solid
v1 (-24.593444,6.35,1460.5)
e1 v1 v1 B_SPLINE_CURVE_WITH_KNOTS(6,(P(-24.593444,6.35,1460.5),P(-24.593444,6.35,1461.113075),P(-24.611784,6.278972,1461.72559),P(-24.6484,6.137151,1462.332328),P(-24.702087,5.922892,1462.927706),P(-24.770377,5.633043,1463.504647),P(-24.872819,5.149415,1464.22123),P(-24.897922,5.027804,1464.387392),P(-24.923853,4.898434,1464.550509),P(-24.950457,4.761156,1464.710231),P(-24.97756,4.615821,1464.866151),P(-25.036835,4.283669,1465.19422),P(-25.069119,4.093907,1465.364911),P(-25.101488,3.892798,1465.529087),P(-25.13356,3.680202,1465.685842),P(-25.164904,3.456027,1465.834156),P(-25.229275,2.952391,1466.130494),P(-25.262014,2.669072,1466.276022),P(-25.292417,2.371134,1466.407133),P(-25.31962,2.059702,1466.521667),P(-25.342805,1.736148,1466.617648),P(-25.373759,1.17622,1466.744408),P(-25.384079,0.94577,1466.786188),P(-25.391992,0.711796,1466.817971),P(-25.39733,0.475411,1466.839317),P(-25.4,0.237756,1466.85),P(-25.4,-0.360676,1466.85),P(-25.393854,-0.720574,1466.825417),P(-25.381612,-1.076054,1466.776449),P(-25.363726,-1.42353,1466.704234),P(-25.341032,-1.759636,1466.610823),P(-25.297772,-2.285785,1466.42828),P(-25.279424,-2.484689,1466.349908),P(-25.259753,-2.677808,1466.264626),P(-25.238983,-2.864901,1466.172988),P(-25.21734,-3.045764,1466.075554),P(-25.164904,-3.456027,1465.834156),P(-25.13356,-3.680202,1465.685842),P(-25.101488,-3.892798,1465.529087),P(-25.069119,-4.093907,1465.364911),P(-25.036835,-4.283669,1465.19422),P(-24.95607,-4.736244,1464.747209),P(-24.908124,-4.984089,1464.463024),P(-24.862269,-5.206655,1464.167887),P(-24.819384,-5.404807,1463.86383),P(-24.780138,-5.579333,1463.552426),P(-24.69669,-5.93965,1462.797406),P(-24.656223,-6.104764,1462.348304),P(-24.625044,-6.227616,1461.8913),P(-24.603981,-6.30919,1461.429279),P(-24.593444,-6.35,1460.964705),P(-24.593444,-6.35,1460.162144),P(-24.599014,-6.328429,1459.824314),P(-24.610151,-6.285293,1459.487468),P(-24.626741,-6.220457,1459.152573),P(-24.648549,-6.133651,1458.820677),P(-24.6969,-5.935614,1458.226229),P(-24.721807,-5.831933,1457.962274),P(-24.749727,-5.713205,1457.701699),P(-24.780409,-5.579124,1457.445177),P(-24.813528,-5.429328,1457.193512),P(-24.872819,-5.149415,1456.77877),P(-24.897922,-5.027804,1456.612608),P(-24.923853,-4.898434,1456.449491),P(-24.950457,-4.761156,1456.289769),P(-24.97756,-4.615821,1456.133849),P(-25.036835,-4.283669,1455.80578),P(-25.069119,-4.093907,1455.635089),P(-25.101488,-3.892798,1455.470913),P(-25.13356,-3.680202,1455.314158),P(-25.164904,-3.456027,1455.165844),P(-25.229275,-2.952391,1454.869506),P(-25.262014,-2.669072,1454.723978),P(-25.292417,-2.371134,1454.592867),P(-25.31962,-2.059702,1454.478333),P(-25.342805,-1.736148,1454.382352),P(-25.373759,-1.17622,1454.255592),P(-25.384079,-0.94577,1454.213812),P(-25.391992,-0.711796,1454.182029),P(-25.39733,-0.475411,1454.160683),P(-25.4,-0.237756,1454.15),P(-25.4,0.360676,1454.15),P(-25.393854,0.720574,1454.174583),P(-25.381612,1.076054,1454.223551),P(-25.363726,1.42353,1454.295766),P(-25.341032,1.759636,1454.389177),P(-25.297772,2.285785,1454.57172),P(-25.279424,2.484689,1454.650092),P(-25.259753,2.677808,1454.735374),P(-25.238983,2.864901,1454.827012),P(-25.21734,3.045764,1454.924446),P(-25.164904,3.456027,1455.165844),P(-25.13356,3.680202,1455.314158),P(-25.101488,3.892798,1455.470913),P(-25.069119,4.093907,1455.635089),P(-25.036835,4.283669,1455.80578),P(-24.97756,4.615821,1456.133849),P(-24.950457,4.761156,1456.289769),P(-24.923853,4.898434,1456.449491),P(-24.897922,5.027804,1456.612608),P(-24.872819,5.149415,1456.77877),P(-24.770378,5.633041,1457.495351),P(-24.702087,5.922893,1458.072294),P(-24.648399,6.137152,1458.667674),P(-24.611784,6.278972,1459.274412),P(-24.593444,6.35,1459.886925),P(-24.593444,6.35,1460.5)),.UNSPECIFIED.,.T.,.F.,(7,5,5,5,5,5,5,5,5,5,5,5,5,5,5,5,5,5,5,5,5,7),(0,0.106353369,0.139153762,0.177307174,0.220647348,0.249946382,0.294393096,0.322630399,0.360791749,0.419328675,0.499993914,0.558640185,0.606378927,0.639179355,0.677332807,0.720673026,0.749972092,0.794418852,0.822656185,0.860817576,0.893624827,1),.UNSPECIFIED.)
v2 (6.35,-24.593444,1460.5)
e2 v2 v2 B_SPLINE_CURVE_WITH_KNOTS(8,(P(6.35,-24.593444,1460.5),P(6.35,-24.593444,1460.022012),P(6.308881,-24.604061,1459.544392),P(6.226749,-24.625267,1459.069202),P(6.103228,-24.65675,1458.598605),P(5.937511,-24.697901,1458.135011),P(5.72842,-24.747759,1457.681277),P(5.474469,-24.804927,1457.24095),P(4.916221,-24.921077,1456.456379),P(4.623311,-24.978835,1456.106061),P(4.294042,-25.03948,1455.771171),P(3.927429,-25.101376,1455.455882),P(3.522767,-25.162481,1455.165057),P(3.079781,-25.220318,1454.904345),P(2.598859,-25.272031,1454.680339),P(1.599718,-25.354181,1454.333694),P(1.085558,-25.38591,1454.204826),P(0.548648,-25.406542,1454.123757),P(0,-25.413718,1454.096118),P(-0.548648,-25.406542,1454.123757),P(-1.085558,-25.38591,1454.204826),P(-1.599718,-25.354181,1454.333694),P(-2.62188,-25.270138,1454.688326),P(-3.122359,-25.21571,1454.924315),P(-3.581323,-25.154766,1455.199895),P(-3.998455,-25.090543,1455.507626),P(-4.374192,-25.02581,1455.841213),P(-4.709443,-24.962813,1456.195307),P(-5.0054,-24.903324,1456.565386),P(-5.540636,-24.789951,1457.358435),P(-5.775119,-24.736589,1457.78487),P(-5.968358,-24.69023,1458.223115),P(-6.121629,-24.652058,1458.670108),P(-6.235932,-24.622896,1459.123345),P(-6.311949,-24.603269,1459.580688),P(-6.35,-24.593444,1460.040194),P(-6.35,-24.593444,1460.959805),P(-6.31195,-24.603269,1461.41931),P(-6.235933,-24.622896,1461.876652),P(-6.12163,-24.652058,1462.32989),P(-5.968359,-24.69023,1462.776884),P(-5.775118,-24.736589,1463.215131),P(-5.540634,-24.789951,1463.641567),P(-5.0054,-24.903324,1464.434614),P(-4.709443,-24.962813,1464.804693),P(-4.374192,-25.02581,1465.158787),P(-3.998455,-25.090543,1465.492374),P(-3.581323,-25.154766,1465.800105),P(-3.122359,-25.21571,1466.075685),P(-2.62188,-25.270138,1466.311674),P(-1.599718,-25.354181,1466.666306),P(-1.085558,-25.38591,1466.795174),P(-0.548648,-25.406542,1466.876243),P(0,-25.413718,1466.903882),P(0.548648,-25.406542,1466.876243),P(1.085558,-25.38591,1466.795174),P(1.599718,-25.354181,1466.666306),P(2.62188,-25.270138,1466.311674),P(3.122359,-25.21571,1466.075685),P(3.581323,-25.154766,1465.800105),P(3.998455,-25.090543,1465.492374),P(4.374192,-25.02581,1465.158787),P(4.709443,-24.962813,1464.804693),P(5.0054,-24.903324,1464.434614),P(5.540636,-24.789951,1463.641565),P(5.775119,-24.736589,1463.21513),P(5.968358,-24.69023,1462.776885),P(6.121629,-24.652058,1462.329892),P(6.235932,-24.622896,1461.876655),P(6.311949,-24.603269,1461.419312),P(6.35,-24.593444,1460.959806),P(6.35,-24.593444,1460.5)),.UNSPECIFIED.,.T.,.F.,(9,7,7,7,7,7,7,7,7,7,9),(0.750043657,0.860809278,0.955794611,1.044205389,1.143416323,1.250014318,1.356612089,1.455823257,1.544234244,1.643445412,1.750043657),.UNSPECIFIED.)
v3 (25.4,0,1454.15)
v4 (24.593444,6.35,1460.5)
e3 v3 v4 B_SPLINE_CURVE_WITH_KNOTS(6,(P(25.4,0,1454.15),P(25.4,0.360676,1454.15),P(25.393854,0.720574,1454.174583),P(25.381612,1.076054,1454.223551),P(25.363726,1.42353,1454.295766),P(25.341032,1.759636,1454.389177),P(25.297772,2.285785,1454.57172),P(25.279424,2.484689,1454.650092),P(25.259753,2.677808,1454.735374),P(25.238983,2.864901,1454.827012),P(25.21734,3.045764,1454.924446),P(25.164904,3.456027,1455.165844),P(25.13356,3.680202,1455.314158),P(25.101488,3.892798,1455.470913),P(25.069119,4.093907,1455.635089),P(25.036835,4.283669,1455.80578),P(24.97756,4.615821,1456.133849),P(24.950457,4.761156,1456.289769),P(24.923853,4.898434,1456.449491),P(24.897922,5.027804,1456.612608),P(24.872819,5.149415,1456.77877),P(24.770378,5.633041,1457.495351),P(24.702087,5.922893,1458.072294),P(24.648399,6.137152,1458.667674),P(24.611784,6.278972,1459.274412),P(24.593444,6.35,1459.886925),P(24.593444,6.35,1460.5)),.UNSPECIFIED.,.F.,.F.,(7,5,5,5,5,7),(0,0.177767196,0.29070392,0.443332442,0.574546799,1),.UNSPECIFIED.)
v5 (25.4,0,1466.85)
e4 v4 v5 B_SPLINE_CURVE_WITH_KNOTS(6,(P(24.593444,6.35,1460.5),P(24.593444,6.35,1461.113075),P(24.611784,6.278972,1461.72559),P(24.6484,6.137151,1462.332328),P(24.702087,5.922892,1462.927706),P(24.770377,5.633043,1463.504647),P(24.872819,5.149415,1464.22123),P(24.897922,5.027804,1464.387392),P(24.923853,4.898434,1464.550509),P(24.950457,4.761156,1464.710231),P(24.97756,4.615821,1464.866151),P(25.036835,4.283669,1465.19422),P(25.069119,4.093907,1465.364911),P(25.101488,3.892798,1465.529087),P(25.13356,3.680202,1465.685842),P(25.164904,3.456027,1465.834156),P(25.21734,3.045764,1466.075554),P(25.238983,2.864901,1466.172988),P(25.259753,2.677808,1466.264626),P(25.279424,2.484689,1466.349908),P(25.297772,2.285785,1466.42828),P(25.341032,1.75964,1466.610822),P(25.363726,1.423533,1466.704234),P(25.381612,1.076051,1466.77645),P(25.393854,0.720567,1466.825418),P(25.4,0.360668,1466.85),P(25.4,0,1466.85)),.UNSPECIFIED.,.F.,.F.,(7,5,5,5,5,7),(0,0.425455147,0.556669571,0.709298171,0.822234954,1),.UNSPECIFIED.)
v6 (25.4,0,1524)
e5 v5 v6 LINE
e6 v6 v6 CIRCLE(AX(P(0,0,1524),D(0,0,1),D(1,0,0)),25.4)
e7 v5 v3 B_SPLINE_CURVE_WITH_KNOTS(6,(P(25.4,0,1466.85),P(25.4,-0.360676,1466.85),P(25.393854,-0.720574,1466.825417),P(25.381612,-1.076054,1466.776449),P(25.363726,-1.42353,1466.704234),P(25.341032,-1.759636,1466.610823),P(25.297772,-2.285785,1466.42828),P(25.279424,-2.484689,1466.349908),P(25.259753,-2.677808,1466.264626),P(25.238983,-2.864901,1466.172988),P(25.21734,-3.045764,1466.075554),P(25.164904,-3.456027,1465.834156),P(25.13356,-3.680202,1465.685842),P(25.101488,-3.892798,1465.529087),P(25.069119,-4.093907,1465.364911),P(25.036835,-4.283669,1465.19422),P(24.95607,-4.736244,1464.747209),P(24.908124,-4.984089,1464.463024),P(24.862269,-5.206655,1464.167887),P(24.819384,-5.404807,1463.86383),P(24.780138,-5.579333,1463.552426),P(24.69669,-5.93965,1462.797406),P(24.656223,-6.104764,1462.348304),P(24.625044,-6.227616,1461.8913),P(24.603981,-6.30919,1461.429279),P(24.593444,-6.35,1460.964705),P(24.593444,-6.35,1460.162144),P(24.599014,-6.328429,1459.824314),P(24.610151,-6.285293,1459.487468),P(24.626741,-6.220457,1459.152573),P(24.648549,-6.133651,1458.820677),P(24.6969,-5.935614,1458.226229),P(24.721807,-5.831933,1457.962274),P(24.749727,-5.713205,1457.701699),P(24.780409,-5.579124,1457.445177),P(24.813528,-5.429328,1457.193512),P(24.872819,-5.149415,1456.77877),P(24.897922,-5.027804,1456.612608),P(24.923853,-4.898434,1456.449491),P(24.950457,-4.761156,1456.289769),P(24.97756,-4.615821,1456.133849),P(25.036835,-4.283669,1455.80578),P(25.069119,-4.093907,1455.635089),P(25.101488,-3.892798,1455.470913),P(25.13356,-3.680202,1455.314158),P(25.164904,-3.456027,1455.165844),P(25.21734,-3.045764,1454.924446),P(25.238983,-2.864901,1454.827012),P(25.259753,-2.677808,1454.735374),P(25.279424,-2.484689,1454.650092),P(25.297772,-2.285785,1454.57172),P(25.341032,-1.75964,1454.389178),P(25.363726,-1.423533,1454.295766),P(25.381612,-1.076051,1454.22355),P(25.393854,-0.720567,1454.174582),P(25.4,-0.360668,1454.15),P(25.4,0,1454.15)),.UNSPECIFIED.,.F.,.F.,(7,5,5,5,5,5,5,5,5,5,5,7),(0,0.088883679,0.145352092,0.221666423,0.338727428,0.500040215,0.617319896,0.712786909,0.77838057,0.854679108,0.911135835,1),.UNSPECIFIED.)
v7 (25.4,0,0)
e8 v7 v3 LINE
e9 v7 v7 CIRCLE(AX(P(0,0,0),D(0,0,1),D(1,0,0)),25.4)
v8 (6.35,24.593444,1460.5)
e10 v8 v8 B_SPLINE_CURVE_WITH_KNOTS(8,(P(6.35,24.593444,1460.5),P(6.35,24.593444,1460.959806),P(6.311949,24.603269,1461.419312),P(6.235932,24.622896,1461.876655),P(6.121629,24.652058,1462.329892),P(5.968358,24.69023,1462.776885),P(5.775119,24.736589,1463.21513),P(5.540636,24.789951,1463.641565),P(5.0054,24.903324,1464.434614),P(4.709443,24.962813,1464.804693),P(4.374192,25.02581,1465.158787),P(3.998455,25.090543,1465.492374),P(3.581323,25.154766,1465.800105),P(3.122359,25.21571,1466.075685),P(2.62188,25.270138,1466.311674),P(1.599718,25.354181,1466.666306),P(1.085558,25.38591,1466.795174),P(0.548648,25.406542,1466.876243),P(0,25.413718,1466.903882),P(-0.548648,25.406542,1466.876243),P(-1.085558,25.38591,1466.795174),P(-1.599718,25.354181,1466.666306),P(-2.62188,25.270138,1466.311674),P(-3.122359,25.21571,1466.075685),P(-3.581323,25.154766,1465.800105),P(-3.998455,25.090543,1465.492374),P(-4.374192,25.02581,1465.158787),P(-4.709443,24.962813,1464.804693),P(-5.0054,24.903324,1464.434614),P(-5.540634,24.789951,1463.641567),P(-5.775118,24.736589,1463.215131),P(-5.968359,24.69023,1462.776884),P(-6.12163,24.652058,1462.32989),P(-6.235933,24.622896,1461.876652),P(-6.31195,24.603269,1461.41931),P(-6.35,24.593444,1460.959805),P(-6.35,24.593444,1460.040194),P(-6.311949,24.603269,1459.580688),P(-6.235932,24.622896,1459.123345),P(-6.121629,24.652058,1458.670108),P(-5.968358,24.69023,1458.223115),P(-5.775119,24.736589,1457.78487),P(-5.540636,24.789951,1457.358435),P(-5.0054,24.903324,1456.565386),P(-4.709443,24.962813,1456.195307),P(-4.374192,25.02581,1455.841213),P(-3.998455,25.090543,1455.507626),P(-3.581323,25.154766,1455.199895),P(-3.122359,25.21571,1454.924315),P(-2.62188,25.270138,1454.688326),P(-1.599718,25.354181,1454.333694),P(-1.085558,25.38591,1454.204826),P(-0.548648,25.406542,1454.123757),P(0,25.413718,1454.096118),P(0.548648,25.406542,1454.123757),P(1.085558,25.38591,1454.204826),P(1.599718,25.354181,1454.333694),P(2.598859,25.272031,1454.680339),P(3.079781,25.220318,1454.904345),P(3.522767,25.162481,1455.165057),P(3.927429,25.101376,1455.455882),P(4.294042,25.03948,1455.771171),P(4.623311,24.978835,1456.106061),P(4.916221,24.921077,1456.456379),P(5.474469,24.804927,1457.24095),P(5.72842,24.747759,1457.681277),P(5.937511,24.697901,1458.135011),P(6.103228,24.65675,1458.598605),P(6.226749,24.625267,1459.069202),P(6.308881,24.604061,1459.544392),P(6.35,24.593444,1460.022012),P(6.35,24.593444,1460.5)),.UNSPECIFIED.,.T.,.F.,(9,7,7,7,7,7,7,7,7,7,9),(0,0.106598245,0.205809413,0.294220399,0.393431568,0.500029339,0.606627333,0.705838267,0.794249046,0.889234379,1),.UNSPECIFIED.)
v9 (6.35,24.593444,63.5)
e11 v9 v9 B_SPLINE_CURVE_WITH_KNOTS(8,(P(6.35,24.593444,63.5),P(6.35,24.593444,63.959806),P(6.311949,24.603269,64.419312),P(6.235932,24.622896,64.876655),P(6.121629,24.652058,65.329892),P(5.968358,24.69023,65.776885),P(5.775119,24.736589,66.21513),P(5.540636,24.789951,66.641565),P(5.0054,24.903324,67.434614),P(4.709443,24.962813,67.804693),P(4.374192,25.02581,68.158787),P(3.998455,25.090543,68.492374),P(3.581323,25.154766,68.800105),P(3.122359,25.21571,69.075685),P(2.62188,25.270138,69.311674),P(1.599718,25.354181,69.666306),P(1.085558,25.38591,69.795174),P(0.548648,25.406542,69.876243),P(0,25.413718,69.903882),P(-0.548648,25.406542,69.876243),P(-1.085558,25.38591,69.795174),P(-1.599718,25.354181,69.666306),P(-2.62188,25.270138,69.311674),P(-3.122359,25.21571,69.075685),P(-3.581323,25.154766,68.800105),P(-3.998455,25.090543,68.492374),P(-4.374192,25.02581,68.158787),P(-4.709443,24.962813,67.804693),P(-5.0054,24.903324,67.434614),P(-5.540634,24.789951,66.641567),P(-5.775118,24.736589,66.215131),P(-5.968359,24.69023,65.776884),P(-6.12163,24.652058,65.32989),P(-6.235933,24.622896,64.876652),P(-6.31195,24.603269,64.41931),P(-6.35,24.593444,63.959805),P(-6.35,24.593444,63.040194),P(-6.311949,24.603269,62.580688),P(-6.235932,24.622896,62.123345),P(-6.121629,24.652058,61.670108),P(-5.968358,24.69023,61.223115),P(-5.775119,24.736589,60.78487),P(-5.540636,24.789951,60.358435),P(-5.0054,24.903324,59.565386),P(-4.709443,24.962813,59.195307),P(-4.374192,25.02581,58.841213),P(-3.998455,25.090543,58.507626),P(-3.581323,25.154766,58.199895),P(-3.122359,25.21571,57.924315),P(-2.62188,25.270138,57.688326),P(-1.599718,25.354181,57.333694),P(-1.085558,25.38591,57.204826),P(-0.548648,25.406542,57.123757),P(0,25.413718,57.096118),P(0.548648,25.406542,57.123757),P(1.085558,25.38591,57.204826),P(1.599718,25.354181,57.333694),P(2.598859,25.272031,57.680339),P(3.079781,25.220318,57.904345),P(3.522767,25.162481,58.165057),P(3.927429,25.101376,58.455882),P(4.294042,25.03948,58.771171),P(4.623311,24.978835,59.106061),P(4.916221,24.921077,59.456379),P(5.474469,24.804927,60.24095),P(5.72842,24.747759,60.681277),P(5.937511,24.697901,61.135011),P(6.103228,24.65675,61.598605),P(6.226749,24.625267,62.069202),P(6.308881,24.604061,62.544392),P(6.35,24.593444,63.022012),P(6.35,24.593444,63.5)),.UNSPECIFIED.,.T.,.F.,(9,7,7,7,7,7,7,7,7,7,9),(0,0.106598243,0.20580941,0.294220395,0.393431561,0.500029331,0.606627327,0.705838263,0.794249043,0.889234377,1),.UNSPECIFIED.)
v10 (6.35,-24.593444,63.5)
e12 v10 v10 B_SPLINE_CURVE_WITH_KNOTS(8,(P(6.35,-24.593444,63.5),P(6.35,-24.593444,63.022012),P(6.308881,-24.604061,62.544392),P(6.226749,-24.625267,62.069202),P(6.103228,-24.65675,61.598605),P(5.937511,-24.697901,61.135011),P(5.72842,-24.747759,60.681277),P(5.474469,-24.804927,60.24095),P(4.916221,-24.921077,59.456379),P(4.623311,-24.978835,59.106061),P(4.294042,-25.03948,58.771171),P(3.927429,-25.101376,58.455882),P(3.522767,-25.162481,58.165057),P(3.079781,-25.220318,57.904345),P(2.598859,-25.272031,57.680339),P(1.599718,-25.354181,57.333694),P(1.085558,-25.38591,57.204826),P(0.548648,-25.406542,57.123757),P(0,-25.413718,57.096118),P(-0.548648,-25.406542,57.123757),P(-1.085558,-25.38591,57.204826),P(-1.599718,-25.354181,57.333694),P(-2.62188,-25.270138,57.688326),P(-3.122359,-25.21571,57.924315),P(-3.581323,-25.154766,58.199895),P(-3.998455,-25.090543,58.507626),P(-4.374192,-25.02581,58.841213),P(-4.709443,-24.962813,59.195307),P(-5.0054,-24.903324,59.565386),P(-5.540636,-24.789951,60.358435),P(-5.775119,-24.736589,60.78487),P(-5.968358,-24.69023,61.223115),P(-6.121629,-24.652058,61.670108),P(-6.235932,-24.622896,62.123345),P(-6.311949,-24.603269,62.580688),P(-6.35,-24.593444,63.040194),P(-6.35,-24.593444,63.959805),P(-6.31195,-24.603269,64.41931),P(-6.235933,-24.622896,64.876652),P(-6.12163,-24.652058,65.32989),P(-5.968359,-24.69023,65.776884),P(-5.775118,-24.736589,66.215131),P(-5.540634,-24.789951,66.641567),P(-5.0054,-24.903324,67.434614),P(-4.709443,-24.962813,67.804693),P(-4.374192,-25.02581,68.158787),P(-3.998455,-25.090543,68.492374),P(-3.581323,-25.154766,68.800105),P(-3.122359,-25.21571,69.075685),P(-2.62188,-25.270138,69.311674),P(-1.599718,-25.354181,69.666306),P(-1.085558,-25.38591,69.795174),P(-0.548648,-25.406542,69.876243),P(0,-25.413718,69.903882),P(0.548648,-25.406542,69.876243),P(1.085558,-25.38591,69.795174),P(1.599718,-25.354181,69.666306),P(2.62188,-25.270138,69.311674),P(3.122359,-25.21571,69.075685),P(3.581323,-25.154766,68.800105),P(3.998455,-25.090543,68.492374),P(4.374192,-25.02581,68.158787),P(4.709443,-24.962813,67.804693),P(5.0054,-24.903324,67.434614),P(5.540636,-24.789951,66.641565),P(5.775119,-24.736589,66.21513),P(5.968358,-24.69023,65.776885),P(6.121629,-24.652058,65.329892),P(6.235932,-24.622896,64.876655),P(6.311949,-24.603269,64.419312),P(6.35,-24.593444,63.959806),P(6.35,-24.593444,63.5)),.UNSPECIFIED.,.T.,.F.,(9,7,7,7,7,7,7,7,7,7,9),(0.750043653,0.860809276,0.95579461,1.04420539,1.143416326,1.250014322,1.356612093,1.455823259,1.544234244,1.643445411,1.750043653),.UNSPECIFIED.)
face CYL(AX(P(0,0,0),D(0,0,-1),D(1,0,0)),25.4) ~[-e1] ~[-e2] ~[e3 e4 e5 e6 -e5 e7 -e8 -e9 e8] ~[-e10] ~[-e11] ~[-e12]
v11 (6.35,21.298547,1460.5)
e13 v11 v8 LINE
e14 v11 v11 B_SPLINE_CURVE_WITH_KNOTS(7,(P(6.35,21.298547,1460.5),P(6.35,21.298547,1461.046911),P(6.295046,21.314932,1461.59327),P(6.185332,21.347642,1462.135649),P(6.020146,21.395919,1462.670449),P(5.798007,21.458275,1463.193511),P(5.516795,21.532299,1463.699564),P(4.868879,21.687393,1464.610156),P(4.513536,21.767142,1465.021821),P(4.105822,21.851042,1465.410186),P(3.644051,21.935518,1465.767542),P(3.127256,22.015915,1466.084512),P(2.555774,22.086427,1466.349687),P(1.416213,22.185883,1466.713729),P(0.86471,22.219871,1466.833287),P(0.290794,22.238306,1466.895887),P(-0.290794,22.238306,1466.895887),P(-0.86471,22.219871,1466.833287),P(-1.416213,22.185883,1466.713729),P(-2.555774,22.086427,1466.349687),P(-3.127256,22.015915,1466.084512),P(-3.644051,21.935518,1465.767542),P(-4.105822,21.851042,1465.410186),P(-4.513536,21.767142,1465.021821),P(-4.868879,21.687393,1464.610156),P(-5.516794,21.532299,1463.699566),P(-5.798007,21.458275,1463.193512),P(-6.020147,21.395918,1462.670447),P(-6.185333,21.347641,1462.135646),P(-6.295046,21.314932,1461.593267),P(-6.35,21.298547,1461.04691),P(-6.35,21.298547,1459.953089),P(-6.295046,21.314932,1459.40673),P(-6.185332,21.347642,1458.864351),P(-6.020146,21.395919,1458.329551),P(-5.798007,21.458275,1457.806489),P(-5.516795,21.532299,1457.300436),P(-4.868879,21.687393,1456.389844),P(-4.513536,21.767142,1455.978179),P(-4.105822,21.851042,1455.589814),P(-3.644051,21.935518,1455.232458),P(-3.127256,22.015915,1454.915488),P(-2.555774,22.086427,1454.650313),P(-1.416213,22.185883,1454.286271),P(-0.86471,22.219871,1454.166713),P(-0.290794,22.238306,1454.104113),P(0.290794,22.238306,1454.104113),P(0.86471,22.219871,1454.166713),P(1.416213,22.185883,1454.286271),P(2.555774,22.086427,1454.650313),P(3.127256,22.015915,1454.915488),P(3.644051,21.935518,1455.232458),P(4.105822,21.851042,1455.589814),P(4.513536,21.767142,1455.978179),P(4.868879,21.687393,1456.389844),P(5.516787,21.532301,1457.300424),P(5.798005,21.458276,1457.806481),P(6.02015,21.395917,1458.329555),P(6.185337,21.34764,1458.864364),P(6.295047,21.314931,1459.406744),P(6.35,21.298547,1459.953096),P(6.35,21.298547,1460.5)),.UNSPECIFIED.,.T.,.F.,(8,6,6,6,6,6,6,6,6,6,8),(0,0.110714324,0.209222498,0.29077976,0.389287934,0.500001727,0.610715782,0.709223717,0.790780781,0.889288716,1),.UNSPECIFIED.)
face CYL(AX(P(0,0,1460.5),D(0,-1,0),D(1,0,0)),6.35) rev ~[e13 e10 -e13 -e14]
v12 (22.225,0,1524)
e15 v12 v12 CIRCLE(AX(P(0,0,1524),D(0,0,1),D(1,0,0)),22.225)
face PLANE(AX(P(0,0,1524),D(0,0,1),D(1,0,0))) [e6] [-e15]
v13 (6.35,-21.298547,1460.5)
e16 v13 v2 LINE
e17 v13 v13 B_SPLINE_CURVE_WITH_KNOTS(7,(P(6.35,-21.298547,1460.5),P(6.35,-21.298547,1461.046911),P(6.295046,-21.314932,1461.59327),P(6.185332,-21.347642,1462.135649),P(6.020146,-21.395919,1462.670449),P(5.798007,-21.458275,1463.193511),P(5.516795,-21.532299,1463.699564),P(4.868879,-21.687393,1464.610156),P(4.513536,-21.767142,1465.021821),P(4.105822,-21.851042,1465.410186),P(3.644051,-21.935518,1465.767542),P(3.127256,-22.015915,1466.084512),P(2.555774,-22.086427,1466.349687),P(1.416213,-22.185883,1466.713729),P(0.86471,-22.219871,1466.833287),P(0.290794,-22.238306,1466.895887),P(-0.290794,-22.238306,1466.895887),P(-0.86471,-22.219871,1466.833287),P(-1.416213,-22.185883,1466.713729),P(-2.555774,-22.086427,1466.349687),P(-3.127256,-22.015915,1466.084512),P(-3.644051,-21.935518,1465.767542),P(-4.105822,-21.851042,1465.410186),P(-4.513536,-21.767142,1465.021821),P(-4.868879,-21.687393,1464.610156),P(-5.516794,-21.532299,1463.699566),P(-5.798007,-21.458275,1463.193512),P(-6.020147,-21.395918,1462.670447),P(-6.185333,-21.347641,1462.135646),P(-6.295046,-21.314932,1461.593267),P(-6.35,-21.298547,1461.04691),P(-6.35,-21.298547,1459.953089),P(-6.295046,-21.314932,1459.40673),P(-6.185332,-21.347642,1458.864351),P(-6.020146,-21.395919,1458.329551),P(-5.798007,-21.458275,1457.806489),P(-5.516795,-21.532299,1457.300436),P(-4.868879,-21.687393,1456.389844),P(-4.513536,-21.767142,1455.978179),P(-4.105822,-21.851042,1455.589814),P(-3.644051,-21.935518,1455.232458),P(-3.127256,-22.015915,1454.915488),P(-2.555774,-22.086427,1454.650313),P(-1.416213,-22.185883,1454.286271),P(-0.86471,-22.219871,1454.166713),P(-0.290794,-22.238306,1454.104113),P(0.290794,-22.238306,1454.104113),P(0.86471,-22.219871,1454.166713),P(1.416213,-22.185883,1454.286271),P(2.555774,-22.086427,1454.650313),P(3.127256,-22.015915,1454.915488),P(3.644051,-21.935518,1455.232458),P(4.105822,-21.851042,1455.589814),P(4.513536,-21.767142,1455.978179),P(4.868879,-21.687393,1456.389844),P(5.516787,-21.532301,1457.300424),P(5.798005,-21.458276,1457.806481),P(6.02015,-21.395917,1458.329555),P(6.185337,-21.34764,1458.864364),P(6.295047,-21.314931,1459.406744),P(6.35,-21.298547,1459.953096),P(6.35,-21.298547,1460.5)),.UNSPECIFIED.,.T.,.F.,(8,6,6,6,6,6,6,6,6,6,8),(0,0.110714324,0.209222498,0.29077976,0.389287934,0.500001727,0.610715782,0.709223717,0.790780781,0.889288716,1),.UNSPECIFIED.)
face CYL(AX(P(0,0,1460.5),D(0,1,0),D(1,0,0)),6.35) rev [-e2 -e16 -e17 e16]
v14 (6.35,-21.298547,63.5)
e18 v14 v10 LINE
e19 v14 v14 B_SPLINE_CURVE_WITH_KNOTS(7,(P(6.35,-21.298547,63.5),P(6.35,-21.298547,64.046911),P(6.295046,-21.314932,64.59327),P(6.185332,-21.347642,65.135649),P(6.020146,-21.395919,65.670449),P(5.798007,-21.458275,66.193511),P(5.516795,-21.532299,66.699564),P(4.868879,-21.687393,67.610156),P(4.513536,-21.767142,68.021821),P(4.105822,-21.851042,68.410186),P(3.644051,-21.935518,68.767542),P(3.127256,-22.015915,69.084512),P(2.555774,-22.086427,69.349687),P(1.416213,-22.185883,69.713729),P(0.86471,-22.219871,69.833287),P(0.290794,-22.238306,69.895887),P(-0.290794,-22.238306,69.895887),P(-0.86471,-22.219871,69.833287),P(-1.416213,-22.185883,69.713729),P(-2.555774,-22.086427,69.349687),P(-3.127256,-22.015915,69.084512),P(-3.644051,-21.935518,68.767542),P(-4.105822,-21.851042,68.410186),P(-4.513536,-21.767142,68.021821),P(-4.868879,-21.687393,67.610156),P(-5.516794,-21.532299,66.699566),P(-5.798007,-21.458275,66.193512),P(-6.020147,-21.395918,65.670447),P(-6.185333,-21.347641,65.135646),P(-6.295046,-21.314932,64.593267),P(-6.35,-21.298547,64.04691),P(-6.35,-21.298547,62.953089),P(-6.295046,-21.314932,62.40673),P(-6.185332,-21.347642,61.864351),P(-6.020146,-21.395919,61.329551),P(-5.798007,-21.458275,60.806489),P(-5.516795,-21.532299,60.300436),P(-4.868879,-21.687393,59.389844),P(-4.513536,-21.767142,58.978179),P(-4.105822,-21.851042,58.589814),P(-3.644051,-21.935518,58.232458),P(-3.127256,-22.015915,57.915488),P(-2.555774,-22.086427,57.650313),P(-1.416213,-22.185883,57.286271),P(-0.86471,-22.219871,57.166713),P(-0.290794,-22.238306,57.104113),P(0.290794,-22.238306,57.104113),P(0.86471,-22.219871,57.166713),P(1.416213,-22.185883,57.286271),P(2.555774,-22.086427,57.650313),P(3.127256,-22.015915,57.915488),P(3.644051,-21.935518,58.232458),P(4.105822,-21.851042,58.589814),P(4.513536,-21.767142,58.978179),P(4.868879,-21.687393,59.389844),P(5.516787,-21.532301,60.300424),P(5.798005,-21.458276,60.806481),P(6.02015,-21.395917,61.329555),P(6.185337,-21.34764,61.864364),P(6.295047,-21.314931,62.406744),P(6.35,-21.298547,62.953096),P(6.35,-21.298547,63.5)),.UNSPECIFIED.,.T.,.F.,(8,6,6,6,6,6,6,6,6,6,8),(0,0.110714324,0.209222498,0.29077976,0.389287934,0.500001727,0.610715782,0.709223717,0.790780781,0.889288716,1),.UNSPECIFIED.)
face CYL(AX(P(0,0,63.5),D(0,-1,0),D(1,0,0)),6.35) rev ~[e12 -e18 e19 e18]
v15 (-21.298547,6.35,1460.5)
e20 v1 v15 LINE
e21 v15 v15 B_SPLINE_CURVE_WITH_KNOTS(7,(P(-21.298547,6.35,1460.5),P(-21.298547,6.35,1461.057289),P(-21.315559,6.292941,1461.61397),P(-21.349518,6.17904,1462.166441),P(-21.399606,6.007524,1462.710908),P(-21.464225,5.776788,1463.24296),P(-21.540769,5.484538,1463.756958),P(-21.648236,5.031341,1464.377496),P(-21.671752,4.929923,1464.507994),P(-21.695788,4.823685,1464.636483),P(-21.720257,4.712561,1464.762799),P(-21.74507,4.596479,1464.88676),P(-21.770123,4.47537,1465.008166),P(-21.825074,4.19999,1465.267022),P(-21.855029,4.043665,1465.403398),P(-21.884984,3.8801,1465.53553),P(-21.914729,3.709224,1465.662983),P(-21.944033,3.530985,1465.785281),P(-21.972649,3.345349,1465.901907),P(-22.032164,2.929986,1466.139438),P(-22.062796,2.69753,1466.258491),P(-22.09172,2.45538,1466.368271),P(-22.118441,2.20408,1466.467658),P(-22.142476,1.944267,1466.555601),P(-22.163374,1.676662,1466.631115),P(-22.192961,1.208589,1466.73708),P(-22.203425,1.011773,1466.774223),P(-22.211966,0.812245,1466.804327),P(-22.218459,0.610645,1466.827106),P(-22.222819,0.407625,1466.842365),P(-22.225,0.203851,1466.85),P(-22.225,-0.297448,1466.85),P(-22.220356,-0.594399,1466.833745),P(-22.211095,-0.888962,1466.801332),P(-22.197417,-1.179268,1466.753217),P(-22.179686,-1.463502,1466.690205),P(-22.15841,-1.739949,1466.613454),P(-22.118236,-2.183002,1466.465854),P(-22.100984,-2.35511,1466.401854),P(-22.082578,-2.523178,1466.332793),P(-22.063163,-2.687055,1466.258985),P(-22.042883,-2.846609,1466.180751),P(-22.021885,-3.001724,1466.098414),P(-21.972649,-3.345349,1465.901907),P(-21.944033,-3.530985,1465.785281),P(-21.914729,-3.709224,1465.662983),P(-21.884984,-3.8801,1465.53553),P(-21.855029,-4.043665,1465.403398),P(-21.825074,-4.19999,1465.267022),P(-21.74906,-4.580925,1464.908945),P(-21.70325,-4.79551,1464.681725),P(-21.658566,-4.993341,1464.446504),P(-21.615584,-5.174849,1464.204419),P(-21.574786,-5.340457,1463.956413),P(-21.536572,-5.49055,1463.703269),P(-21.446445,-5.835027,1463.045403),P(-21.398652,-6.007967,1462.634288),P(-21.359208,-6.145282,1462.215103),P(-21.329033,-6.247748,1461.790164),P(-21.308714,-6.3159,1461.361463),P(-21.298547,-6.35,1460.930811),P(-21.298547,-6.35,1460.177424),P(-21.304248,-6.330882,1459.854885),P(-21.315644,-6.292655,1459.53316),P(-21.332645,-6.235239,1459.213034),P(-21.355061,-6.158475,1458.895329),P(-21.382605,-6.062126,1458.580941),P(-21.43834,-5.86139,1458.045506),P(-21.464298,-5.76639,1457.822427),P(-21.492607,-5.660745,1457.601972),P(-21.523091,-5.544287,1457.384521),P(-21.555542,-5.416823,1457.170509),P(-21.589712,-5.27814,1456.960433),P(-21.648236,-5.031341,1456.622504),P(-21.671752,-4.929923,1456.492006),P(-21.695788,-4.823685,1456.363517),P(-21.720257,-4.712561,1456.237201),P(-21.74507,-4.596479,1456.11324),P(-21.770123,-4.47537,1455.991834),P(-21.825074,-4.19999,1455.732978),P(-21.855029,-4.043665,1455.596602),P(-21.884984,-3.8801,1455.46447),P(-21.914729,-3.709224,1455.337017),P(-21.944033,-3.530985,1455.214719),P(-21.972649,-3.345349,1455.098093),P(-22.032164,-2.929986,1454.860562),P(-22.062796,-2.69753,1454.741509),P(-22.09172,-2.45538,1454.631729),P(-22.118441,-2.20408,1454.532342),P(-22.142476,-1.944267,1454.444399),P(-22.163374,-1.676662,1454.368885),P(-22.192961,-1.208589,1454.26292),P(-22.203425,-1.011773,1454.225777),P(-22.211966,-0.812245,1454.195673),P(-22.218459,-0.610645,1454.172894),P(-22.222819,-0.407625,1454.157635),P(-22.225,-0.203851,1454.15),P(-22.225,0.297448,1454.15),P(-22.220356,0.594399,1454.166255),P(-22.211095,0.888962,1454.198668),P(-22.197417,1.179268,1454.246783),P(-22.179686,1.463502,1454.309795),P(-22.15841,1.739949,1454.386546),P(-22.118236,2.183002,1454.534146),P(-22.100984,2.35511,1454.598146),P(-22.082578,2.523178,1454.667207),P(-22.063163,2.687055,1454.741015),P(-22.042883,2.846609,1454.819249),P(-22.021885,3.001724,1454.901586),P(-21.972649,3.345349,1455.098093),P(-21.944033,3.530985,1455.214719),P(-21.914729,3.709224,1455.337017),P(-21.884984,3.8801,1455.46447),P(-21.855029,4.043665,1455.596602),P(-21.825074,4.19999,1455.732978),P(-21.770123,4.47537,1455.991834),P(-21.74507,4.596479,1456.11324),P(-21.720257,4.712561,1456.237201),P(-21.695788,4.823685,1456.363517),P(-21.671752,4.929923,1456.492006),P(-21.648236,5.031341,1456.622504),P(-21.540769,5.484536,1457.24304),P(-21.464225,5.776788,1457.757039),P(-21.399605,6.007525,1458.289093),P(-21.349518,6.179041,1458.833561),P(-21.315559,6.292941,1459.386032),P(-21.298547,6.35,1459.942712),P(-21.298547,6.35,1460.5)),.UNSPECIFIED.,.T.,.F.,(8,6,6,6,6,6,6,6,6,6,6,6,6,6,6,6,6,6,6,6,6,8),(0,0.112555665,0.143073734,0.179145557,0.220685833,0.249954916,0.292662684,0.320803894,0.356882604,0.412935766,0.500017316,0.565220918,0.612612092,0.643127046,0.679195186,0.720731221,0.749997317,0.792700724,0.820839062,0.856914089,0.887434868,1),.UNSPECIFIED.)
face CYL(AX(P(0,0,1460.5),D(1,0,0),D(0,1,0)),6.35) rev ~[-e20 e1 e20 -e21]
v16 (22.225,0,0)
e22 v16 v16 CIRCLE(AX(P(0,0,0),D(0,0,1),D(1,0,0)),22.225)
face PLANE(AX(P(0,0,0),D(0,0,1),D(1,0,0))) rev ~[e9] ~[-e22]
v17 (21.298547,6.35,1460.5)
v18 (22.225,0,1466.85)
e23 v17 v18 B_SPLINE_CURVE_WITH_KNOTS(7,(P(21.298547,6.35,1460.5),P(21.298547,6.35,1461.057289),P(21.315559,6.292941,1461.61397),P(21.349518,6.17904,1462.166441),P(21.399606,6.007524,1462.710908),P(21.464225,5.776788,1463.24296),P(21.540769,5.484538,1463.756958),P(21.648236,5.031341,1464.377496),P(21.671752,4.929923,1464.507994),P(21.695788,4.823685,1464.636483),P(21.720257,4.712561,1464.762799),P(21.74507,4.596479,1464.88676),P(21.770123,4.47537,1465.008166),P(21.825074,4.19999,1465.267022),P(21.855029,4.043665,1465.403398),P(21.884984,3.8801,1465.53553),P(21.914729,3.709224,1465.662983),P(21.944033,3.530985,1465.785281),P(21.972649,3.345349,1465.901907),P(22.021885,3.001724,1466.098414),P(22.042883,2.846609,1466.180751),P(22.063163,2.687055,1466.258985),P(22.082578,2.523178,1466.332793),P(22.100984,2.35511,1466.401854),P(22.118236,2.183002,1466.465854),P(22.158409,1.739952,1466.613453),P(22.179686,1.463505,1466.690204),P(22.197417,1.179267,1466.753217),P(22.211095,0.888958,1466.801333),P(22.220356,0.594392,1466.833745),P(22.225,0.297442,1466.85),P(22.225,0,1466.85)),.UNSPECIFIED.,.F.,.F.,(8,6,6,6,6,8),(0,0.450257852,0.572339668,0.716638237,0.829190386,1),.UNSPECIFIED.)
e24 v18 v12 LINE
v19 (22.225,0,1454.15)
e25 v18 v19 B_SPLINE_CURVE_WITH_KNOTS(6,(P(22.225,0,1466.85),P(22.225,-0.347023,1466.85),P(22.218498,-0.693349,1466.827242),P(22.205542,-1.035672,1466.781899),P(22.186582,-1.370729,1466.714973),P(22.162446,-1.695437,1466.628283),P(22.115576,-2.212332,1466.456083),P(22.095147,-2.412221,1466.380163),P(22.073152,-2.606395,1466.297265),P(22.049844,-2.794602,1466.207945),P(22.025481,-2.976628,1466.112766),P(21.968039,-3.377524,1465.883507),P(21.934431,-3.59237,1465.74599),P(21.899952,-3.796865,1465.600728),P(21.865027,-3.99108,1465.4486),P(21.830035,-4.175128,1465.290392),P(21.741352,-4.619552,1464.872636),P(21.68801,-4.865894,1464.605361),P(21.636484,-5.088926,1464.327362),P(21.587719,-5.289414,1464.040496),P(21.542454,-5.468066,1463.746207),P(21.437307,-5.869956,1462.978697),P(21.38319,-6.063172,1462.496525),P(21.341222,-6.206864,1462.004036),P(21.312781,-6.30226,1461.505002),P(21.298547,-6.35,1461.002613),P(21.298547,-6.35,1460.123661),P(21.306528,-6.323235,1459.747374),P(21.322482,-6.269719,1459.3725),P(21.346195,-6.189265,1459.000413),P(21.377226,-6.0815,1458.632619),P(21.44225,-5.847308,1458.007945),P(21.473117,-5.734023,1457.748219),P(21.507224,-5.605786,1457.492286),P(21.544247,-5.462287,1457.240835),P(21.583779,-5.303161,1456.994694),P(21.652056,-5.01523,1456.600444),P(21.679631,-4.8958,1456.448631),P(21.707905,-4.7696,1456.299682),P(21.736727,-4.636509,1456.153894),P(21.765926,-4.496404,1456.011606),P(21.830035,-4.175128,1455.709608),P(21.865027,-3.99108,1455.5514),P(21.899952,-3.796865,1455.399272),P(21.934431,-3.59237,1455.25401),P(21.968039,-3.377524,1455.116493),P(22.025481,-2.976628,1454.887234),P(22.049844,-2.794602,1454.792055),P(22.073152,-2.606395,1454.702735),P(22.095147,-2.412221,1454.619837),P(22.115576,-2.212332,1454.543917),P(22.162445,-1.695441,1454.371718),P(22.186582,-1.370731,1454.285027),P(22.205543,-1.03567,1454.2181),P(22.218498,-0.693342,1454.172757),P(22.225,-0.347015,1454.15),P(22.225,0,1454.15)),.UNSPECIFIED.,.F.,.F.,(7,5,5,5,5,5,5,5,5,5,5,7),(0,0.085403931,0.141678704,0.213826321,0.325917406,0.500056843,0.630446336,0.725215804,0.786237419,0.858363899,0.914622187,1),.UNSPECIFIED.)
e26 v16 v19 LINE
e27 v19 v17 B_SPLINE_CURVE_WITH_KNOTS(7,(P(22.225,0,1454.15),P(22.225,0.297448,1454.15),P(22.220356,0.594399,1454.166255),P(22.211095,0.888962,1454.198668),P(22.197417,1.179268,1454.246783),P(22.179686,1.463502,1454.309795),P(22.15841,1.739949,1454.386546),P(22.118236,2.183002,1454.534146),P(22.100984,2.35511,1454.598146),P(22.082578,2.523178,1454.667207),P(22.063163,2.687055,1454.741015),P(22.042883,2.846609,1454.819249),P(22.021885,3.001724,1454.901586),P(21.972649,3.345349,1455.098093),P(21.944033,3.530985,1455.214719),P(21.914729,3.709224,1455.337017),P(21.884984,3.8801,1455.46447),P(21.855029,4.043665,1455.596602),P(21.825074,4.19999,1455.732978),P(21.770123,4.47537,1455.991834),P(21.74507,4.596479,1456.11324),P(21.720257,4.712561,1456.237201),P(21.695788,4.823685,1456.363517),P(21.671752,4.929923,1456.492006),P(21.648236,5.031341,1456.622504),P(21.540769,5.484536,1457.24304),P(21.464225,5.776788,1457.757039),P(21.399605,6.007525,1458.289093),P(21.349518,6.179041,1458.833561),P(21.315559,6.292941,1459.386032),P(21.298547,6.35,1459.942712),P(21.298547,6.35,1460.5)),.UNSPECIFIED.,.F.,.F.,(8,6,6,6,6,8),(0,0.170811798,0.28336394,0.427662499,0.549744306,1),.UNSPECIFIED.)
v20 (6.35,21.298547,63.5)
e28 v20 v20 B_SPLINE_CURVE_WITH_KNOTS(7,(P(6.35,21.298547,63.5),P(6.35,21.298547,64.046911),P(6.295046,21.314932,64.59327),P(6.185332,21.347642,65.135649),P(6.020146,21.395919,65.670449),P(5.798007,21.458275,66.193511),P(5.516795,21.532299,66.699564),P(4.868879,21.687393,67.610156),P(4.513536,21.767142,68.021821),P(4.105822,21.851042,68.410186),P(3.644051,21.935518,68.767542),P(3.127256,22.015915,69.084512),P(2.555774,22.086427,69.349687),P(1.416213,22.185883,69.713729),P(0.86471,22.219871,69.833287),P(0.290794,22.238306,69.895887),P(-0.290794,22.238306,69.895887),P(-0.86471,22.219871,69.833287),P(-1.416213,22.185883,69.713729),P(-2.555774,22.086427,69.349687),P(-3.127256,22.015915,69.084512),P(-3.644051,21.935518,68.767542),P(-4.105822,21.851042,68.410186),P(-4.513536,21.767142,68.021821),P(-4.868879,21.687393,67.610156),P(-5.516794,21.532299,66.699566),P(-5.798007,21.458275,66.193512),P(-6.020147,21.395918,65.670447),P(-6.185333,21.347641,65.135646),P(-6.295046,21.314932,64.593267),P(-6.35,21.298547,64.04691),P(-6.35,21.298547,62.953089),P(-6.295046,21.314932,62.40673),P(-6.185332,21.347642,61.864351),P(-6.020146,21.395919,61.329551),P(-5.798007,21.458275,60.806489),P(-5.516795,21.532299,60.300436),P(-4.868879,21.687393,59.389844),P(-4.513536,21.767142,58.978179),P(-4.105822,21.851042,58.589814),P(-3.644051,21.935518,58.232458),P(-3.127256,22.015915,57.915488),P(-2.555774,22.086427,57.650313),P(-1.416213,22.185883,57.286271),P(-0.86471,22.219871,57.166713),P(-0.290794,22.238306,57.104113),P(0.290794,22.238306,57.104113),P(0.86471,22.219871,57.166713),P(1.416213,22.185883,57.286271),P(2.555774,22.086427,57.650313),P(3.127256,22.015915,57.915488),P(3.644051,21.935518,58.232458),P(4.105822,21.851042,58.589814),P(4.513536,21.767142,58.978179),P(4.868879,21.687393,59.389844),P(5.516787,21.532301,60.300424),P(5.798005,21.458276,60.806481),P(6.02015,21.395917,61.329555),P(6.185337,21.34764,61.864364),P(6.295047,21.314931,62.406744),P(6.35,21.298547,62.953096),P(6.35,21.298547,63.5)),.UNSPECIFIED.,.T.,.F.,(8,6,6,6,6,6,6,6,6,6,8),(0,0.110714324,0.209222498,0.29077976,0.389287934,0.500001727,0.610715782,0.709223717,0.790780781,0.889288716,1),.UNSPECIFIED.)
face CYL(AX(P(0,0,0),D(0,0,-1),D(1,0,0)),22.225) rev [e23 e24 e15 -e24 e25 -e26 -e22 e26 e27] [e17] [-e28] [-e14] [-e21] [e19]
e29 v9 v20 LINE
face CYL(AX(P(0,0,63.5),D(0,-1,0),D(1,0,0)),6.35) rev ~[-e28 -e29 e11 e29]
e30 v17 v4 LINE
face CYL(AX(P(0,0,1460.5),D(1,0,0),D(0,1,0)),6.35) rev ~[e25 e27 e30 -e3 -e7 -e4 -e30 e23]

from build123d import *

# Parameters (mm, degrees)
F0_R     = 25.4
F0_R_2   = 22.225
F1_DEPTH = 1524
F2_R     = 6.35
F3_DEPTH = 25.4
F4_R     = 6.35
F5_DEPTH = 38.1


with BuildPart() as f1:
    # F0 (on Top) → F1 (new body)
    with BuildSketch(Plane.XY):
        Circle(F0_R)
        Circle(F0_R_2, mode=Mode.SUBTRACT)
    extrude(amount=F1_DEPTH)

    # F2 (on Front) → F3 (cut, symmetric)
    with BuildSketch(Plane.XZ):
        with Locations((0, 1460.5)):
            Circle(F2_R)
        with Locations((0, 63.5)):
            Circle(F2_R)
    extrude(amount=F3_DEPTH, both=True, mode=Mode.SUBTRACT)

    # F4 (on Right) → F5 (cut, symmetric)
    with BuildSketch(Plane.YZ):
        with Locations((0, 1460.5)):
            Circle(F4_R)
    extrude(amount=F5_DEPTH, both=True, mode=Mode.SUBTRACT)


solid = f1.part
